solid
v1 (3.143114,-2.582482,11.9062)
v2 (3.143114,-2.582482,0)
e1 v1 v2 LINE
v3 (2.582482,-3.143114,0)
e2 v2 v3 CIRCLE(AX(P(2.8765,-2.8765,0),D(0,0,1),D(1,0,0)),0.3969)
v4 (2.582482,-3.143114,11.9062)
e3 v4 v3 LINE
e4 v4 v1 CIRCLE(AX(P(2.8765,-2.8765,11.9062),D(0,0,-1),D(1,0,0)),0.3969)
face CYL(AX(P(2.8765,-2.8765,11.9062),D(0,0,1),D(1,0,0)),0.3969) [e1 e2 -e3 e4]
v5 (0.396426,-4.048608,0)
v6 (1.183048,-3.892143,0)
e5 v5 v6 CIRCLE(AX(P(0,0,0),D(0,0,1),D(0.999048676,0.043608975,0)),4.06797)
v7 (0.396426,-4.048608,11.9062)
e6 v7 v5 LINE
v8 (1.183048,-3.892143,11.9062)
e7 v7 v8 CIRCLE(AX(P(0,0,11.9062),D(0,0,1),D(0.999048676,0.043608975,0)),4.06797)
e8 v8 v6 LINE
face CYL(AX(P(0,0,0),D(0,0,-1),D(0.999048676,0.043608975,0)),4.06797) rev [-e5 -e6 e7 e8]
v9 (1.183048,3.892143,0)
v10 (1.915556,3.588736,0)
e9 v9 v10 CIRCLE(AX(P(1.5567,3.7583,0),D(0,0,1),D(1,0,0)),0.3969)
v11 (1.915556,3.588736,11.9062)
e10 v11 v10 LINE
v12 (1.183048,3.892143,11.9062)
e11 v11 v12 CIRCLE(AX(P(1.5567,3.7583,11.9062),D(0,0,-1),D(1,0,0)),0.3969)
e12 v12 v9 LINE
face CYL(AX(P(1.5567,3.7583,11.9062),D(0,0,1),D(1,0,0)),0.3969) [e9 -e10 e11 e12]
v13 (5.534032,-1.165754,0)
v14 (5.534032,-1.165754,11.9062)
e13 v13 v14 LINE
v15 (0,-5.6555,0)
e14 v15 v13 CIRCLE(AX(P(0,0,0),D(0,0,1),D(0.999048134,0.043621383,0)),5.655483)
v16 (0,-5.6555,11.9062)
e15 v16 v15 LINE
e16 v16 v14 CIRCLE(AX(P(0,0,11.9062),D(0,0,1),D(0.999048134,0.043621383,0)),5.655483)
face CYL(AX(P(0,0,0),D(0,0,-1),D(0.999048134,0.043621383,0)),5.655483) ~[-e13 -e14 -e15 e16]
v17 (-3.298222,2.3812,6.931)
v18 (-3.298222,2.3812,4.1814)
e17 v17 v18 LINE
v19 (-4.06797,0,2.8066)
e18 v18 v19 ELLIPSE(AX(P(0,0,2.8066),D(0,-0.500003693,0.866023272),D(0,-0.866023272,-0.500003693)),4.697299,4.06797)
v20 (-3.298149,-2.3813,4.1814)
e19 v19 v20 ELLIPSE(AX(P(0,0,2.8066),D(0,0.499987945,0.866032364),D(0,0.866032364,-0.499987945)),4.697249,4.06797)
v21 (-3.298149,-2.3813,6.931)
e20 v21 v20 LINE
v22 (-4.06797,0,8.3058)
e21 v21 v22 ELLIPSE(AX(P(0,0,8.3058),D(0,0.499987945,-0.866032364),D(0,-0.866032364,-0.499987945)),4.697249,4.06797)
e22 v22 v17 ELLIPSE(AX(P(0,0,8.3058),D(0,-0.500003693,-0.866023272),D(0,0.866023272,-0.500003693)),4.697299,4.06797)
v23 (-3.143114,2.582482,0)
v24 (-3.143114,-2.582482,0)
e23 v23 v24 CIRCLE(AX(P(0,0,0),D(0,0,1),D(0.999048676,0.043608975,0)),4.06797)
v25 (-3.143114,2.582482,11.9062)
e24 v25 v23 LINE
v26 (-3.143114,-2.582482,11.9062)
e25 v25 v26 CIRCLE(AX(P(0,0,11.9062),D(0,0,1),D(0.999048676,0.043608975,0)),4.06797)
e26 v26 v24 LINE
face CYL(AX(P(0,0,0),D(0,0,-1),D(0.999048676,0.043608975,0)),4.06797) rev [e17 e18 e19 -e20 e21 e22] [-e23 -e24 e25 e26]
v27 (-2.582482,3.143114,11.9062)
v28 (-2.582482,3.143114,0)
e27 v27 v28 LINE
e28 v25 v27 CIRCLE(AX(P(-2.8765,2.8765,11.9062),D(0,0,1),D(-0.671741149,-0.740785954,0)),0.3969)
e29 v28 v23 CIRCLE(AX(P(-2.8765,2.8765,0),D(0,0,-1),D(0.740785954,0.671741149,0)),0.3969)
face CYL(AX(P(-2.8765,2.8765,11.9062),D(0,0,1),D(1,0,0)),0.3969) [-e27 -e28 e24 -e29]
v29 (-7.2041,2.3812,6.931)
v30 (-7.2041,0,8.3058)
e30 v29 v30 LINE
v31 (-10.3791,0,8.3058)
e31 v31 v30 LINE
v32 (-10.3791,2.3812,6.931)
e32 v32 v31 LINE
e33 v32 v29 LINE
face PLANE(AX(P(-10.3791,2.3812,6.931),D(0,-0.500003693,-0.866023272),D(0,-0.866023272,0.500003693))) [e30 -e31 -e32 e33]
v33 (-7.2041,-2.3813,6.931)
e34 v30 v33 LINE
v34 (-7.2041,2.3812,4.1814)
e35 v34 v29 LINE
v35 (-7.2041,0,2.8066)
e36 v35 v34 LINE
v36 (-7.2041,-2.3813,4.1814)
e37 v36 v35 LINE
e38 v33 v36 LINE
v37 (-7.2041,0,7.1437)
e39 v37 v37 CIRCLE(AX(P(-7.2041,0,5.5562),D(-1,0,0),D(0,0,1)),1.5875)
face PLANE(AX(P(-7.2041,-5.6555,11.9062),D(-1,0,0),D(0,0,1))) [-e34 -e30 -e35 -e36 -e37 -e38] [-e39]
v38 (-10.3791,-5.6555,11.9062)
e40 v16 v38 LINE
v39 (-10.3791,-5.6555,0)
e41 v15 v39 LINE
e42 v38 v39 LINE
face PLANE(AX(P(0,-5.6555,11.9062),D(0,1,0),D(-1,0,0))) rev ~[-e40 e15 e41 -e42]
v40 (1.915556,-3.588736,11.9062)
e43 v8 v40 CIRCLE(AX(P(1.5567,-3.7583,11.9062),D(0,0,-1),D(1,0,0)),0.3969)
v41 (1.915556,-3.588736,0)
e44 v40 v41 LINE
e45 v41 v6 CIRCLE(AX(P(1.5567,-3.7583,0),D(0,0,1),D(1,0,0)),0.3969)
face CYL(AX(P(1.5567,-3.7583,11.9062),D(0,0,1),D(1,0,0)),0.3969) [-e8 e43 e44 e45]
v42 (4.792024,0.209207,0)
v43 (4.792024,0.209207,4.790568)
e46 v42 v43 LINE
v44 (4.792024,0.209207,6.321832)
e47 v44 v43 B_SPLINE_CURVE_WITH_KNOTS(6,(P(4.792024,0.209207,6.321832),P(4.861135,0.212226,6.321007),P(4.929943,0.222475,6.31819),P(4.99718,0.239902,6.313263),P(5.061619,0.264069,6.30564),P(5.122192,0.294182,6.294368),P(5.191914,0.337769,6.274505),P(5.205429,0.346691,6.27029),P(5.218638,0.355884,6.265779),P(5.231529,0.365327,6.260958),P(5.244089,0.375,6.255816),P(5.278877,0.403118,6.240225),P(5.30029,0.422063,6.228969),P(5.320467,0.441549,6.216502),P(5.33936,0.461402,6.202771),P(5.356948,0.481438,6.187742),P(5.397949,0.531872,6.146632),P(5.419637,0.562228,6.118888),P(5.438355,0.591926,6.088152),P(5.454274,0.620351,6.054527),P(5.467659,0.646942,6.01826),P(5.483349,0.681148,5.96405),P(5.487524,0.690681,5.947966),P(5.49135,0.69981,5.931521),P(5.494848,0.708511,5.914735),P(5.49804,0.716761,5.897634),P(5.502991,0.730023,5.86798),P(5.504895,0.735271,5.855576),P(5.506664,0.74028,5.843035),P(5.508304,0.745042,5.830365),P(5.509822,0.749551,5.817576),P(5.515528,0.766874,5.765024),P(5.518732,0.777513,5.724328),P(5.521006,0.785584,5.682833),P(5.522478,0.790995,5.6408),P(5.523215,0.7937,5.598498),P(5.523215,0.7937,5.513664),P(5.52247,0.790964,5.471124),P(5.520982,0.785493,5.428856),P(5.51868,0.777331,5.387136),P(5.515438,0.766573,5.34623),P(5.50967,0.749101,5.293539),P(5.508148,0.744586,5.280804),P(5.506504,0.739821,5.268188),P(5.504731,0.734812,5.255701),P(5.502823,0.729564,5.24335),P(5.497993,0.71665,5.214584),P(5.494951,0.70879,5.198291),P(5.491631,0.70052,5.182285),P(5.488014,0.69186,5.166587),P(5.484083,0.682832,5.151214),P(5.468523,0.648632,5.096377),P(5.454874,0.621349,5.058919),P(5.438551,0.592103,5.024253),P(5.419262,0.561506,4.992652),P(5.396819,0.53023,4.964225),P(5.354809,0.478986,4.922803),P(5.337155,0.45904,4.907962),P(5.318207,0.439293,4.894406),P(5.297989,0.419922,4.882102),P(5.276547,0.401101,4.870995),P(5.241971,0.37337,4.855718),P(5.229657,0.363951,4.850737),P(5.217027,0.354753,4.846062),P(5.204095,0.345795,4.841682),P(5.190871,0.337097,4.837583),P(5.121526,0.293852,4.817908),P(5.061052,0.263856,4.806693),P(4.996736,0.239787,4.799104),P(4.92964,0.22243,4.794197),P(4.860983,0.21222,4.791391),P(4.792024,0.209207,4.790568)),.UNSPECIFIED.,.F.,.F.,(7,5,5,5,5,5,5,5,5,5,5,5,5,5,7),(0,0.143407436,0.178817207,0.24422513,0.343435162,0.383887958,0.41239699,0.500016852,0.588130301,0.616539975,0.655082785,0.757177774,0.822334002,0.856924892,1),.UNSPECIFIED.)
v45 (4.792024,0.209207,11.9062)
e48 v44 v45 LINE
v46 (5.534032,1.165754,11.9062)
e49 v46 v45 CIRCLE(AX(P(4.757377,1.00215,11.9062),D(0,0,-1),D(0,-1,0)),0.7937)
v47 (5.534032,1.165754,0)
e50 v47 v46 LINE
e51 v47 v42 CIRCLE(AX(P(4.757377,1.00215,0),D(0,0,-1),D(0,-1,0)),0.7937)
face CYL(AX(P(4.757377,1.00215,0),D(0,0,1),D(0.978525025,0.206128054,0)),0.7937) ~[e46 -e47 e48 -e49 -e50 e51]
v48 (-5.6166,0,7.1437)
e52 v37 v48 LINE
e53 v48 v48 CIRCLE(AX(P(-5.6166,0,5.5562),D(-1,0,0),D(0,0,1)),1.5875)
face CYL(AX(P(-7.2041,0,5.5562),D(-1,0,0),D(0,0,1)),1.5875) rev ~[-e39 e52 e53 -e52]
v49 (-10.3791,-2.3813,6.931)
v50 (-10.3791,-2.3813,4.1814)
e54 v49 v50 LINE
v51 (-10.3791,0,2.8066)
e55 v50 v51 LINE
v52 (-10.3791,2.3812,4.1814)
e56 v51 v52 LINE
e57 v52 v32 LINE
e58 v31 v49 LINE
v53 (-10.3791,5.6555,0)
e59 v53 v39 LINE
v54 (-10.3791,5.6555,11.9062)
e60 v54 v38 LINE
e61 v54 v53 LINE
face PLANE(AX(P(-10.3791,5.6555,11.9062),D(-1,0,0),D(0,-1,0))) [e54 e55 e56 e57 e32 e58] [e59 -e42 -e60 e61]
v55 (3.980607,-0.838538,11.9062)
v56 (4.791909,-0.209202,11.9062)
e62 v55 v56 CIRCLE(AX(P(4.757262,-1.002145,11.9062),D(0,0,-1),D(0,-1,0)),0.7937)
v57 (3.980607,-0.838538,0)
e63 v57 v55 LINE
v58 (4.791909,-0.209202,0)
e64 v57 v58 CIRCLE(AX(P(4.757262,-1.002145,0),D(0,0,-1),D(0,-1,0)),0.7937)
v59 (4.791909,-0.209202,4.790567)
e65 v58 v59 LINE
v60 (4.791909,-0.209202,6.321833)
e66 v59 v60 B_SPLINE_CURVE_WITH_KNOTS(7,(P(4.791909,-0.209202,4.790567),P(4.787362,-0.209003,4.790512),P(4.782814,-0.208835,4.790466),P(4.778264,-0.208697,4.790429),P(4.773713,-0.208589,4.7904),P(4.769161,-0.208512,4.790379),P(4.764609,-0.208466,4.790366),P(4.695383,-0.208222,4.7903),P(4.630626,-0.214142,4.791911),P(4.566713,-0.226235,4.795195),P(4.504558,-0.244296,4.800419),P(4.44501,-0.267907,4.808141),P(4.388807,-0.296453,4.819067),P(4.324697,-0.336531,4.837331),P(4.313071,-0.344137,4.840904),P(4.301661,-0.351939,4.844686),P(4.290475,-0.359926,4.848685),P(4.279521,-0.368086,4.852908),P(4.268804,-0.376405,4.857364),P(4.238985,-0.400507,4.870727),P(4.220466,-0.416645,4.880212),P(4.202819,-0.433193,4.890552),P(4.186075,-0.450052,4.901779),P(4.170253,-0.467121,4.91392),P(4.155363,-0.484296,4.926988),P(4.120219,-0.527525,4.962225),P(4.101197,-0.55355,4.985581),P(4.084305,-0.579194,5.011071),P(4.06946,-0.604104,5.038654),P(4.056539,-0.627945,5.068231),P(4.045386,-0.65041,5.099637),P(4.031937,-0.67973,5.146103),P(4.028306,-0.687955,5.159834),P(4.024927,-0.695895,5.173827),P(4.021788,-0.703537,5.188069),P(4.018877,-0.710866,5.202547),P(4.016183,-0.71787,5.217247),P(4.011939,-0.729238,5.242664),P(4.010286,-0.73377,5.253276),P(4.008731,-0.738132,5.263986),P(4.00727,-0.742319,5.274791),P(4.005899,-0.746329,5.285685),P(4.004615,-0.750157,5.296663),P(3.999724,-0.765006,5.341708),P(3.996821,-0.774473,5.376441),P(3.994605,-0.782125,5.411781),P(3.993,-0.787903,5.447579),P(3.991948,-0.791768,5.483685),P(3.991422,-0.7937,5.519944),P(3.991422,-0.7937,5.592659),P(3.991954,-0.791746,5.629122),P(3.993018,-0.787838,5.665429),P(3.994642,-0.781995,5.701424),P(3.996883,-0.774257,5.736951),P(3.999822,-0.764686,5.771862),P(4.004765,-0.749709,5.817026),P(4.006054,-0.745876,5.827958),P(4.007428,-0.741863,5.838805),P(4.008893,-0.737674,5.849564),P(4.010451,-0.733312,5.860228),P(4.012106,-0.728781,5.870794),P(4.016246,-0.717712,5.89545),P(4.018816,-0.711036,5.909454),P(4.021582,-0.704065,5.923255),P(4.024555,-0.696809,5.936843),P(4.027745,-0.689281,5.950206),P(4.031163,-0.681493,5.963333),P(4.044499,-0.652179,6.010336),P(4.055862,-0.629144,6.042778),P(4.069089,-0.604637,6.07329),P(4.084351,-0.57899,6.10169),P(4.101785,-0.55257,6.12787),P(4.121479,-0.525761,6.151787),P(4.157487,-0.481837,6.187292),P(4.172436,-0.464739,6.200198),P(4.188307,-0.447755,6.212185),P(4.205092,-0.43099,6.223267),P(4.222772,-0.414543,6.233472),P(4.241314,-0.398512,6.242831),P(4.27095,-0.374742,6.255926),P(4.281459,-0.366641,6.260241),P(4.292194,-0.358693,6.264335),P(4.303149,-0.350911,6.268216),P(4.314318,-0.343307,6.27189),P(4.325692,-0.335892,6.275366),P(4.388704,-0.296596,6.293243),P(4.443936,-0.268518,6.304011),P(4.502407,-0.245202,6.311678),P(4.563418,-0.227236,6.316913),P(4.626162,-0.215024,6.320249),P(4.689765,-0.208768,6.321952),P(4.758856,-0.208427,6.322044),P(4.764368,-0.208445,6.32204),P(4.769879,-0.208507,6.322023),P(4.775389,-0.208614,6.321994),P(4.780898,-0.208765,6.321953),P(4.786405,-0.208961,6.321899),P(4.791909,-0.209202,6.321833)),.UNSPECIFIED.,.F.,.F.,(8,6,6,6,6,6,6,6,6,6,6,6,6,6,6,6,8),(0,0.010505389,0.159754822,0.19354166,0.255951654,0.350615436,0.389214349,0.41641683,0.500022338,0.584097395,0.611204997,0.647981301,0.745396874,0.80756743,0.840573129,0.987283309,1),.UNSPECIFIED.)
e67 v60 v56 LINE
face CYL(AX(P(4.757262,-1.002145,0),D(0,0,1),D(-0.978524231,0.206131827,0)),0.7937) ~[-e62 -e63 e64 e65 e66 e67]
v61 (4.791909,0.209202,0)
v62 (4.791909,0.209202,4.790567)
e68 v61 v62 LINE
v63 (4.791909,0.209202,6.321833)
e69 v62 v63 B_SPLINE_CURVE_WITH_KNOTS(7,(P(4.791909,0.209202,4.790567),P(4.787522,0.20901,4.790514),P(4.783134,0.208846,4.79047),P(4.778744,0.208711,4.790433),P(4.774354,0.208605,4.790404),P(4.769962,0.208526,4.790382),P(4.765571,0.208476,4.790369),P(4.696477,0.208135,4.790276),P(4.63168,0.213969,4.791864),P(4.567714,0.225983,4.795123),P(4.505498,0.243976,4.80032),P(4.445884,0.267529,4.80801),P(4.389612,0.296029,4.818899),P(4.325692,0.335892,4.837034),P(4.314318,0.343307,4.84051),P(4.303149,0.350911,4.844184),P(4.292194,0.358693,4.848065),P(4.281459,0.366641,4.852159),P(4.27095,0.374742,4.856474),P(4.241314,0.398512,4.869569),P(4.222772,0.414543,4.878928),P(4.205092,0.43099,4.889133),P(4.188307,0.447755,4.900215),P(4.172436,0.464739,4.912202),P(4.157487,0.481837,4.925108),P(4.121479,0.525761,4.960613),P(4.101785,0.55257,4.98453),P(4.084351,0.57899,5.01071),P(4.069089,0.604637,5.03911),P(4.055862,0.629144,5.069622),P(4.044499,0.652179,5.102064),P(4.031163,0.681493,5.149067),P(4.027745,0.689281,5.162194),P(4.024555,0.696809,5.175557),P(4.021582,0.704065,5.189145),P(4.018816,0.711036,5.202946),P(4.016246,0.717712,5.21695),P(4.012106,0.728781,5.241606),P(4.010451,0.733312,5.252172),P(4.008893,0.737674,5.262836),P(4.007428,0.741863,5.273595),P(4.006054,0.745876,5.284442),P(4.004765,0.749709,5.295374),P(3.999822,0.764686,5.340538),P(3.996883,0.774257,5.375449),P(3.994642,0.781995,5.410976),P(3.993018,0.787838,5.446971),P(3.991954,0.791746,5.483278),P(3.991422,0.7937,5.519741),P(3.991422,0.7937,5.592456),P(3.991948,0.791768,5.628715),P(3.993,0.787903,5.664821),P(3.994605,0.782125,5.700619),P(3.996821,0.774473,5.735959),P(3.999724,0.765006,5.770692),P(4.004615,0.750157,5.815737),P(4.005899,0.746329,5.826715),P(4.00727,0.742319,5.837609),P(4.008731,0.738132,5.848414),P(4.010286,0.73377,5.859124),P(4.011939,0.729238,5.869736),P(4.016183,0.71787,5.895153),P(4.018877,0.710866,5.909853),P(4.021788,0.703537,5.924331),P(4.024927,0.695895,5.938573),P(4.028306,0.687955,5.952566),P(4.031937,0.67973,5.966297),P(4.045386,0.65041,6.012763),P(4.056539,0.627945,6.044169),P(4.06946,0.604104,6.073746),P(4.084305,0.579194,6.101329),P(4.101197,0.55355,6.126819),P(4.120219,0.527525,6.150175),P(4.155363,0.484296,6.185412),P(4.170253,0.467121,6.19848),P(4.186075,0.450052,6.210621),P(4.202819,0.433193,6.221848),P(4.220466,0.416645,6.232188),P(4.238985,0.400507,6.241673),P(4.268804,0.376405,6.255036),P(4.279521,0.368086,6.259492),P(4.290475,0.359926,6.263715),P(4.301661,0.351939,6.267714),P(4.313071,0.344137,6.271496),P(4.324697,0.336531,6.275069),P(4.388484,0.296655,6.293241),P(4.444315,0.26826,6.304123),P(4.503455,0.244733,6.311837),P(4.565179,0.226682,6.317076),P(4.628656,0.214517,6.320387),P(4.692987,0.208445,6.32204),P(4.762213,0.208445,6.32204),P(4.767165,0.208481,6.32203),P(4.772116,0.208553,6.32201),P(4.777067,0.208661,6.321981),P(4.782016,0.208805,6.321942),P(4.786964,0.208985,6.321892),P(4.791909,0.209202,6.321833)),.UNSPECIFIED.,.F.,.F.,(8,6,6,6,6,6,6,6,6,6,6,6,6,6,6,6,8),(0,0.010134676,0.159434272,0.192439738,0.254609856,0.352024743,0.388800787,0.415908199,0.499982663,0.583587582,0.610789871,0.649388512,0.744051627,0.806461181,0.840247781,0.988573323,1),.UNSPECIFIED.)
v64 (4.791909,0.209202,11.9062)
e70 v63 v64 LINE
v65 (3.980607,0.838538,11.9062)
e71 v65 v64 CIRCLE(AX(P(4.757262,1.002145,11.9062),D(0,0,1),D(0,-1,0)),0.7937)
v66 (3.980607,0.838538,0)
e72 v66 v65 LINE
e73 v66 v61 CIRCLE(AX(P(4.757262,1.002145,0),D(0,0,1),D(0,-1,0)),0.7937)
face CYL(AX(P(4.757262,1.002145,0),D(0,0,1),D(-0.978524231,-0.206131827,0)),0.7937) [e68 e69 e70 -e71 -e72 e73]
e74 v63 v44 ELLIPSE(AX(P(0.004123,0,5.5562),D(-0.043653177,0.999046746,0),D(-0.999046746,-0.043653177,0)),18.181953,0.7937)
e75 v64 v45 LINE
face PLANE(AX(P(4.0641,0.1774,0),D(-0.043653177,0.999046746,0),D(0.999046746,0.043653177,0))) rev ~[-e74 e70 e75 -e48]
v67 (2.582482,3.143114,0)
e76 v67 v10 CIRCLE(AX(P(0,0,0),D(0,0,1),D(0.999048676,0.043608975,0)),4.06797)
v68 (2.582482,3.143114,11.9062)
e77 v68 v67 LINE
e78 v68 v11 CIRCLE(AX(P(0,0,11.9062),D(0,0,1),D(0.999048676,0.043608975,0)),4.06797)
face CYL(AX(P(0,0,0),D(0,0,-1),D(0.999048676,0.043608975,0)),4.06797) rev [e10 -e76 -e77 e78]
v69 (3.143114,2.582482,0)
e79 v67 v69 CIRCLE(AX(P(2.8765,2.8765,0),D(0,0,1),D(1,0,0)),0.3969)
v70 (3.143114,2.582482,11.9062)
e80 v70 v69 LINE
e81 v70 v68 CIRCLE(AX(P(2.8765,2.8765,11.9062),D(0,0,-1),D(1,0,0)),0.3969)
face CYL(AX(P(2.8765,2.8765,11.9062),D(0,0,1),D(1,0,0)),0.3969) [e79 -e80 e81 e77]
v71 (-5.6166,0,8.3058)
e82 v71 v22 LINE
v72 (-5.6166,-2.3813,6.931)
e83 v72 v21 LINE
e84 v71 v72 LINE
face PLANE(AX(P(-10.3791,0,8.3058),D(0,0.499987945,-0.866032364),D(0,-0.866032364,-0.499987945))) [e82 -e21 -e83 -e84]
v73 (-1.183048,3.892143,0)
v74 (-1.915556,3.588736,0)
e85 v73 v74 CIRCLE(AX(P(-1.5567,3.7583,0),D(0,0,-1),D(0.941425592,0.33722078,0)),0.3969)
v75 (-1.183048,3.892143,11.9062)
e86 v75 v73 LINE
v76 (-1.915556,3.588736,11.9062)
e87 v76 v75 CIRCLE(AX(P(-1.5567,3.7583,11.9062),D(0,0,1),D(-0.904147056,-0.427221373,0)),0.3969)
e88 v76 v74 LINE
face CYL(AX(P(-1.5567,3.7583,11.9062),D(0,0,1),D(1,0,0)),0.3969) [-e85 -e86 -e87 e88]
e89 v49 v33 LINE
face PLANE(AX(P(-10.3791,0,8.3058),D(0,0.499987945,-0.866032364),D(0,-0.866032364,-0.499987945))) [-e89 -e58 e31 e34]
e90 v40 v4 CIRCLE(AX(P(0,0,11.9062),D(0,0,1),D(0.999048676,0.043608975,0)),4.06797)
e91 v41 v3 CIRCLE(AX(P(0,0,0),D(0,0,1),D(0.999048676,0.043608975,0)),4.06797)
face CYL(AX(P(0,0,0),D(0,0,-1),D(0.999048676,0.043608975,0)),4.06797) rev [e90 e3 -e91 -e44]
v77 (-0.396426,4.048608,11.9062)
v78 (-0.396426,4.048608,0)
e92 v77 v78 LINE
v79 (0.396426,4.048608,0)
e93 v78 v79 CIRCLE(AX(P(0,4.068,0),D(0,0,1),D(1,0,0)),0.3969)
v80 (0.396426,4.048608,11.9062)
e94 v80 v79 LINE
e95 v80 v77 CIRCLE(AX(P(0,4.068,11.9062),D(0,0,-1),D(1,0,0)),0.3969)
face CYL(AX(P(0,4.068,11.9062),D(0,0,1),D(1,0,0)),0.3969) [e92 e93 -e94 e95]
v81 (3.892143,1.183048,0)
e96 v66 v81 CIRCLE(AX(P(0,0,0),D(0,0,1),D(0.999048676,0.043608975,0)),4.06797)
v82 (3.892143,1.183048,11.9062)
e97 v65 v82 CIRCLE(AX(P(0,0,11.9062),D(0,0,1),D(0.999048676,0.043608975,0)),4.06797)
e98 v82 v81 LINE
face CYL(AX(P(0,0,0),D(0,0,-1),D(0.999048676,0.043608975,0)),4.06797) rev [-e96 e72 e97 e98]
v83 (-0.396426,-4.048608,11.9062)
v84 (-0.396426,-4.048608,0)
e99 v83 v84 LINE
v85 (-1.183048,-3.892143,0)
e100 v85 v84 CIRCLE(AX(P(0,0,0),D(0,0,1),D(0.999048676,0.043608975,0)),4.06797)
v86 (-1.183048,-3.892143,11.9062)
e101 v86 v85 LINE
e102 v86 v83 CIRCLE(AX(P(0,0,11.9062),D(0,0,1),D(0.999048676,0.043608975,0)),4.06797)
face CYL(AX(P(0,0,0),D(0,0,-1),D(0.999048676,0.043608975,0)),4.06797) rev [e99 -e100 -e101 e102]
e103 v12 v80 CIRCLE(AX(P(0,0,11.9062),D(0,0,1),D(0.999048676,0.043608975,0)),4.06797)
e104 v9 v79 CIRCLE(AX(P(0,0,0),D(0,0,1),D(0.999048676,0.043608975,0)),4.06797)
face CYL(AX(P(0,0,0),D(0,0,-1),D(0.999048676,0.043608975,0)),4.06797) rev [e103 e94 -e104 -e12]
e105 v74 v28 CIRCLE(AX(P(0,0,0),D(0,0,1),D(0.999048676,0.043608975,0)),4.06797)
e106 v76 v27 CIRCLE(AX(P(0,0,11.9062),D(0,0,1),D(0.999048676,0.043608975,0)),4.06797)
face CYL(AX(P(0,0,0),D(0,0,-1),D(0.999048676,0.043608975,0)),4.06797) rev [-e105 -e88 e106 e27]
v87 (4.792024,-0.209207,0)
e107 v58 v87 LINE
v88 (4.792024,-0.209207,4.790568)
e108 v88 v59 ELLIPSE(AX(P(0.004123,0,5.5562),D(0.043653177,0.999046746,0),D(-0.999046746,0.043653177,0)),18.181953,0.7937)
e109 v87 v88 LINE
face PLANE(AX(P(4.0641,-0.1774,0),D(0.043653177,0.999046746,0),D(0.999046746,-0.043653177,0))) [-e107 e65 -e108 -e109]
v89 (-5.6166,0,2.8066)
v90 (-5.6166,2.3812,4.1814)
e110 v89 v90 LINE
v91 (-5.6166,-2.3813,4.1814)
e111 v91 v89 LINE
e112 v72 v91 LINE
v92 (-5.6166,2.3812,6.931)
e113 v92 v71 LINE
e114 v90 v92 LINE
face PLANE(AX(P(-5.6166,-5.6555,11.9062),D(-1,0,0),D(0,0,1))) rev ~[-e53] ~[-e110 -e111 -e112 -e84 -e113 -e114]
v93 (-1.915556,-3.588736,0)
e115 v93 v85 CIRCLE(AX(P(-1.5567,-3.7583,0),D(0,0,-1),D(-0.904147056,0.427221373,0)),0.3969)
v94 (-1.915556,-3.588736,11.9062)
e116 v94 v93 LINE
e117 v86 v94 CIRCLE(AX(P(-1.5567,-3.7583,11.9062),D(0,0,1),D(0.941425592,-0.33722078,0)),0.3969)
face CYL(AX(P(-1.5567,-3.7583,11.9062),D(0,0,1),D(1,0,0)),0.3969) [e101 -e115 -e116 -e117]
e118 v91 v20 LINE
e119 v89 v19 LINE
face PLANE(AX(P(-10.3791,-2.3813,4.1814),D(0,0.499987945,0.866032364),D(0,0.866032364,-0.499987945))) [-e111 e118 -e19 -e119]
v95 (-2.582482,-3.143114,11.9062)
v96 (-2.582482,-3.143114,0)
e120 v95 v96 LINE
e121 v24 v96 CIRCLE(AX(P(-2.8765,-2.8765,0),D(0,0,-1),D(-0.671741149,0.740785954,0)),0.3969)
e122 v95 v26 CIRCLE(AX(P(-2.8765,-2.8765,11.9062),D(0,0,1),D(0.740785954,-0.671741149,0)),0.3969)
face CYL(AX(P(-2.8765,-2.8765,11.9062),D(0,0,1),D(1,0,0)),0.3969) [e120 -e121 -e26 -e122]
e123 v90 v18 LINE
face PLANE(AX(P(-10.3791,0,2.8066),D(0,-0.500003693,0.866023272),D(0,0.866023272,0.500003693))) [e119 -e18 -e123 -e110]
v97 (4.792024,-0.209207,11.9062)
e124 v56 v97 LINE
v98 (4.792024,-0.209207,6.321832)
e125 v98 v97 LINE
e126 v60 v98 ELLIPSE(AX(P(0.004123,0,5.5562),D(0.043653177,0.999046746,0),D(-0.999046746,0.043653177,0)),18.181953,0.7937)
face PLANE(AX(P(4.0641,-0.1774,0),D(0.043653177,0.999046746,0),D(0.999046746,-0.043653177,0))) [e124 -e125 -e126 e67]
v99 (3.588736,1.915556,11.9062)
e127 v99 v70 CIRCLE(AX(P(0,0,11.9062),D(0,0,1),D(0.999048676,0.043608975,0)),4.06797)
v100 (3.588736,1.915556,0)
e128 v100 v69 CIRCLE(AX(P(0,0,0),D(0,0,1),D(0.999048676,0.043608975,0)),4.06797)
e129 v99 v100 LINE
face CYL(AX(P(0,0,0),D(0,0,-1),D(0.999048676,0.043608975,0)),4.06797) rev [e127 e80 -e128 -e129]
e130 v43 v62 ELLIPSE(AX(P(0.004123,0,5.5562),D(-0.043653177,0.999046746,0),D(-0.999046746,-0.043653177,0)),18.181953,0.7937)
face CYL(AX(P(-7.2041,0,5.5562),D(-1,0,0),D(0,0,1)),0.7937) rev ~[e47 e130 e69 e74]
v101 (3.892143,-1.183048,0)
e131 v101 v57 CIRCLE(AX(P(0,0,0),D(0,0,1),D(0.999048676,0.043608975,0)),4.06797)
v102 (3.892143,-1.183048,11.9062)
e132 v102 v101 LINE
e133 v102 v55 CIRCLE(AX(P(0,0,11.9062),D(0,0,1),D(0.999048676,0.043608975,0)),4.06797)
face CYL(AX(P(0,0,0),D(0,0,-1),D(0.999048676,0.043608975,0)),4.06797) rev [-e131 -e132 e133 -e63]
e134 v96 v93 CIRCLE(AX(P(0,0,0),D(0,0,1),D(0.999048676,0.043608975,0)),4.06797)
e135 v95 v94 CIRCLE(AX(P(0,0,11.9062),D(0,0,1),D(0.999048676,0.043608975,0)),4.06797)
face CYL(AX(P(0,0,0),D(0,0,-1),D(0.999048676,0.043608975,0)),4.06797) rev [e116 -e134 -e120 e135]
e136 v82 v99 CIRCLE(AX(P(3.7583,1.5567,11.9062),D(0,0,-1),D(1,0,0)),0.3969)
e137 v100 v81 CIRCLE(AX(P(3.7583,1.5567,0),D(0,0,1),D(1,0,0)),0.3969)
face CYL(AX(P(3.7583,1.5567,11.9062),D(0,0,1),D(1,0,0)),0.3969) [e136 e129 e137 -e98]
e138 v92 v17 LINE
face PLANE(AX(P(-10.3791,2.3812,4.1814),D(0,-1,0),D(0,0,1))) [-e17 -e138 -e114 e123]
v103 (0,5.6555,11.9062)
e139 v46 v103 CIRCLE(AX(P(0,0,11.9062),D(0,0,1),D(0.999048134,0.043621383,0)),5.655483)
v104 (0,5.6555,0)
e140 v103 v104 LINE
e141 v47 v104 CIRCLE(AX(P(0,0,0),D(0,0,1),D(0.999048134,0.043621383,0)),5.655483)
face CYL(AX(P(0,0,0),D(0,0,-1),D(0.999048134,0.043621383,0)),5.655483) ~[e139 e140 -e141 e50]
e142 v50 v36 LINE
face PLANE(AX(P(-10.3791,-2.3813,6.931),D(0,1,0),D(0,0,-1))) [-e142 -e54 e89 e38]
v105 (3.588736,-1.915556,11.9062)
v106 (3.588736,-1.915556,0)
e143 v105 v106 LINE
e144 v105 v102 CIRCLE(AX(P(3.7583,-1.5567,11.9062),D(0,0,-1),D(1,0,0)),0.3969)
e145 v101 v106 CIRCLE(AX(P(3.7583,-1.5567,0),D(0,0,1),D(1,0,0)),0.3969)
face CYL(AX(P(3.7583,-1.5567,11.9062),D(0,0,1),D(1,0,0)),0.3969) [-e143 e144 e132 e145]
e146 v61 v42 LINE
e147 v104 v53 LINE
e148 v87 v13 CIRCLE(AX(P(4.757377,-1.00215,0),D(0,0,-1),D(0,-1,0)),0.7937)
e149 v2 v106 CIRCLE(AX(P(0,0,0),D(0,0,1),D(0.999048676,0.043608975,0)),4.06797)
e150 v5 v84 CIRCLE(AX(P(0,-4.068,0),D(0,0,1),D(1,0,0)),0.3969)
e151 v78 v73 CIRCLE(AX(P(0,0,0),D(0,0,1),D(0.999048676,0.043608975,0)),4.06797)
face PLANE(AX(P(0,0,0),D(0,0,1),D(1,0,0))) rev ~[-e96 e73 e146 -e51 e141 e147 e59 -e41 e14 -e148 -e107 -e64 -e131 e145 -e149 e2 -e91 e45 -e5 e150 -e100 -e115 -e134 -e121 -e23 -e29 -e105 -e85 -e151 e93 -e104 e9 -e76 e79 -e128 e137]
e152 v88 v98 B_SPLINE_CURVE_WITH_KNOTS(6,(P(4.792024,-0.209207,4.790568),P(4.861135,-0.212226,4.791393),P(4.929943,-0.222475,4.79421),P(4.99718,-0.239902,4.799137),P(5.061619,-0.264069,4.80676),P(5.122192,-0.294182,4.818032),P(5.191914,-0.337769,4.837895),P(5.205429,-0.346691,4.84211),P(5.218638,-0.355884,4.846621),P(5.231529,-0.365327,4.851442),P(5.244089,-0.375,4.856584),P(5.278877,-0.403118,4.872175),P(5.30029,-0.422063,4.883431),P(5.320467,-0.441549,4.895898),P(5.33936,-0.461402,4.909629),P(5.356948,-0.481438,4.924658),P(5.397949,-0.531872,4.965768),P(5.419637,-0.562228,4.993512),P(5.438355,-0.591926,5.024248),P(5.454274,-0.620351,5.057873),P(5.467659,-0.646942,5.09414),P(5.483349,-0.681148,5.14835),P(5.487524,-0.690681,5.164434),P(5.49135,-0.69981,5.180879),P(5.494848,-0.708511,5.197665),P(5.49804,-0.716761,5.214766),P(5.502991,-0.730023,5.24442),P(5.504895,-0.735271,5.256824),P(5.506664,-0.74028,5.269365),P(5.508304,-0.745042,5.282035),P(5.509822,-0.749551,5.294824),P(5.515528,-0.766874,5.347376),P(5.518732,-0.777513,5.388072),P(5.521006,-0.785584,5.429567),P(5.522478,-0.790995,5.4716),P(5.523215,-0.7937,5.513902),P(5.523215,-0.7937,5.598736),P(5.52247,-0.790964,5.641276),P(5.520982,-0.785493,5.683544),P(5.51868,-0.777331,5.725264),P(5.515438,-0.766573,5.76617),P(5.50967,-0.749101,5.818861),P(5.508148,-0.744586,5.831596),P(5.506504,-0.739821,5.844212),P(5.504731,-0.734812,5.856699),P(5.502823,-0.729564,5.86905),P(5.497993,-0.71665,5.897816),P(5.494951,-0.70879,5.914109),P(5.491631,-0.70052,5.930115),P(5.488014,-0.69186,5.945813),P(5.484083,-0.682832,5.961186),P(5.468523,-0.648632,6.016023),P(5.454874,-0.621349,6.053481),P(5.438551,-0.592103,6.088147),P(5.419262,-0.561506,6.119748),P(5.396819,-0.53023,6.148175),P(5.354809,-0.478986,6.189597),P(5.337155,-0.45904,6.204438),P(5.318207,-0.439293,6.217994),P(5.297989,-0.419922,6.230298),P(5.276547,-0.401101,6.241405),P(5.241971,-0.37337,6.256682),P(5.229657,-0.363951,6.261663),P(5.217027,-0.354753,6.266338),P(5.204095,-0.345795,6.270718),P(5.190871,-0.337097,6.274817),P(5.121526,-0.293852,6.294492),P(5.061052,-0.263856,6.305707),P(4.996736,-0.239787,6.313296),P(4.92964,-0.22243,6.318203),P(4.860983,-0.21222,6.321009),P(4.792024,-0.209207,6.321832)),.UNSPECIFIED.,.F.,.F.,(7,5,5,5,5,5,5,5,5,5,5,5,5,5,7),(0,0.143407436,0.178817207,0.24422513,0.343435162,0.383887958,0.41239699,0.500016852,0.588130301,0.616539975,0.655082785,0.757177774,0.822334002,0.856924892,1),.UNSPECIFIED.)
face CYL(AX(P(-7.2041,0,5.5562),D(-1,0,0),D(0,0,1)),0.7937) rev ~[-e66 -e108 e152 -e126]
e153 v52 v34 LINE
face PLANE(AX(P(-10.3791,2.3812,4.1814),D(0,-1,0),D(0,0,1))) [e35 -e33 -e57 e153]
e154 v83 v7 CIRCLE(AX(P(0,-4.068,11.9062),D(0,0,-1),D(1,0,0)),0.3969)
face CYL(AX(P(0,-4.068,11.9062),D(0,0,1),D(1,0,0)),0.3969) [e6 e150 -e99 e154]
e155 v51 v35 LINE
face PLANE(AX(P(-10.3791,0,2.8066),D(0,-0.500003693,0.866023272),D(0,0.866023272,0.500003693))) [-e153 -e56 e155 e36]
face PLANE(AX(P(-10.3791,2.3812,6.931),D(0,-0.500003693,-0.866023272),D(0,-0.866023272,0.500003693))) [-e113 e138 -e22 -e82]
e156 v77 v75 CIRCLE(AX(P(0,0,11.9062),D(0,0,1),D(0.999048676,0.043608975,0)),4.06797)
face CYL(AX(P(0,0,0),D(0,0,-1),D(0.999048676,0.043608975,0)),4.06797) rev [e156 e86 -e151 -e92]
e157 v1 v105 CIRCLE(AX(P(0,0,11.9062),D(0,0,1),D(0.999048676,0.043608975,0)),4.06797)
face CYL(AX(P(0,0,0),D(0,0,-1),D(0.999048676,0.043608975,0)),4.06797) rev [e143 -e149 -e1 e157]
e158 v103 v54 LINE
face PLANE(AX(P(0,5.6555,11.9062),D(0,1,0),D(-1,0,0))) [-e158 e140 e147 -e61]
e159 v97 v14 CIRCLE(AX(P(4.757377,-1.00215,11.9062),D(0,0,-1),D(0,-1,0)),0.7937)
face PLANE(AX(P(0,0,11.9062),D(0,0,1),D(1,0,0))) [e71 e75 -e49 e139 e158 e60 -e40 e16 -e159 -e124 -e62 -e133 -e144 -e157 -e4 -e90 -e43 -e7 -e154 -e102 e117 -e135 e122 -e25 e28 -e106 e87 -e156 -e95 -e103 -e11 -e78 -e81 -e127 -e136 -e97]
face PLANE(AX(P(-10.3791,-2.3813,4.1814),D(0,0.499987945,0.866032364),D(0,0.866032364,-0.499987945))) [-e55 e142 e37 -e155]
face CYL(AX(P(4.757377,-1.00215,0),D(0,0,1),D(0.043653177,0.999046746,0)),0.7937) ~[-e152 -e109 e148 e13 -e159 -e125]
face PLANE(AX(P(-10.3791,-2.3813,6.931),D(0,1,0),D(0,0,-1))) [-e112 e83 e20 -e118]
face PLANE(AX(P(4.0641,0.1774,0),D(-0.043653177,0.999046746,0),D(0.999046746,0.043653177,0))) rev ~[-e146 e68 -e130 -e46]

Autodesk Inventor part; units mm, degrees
ref_plane "YZ Plane" through (0, 0, 0) normal (1, 0, 0) x (0, 1, 0)
ref_plane "XZ Plane" through (0, 0, 0) normal (0, 1, 0) x (-1, 0, 0)
ref_plane "XY Plane" through (0, 0, 0) normal (0, 0, 1) x (1, 0, 0)
sketch "Sketch1" plane through (0, 0, 0) normal (0, 0, 1) x (1, 0, 0)
  arc A0 (4.0641, 0.1774) -> (4.0641, -0.1774) centre (0, 0) ccw
  arc A1 (5.6501, 0.2467) -> (5.6501, -0.2467) centre (0, 0) ccw
  line L0 (4.0641, -0.1774) -> (5.6501, -0.2467)
  line L1 (4.0641, 0.1774) -> (5.6501, 0.2467)
  dimension "d0" = 8.1359
  dimension "d13" = 5
  dimension "d26" = 1.5875
extrude "Extrusion3" add sketch "Sketch1" along normal blind 11.9062
fillet "Fillet4" radius 0.7937 4 edges at (5.6501, 0.2467, 5.9531) (4.0641, 0.1774, 5.9531) (4.0641, -0.1774, 5.9531) (5.6501, -0.2467, 5.9531)
sketch "Sketch4" plane through (0, 0, 11.9062) normal (0, 0, 1) x (1, 0, 0)
  arc A0 (5.534, 1.1658) -> (5.534, -1.1658) centre (0, 0) ccw projected
  arc A1 (0, 5.6555) -> (0, -5.6555) centre (0, 0) ccw
  line L0 (0, 5.6555) -> (-10.3791, 5.6555)
  line L1 (-10.3791, 5.6555) -> (-10.3791, -5.6555)
  line L2 (0, -5.6555) -> (-10.3791, -5.6555)
  dimension "d192" = 10.3791
extrude "Extrusion5" add sketch "Sketch4" against normal up to surface (11.9062 mm away)
sketch "Sketch8" plane through (0, 0, 11.9062) normal (0, 0, 1) x (1, 0, 0)
  arc A0 (3.9806, 0.8386) -> (3.9806, -0.8386) centre (0, 0) ccw projected
  circle A1 centre (0, 4.068) radius 0.3969
  circle A2 centre (0, -4.068) radius 0.3969
  circle A3 centre (-1.5567, 3.7583) radius 0.3969
  circle A4 centre (-1.5567, -3.7583) radius 0.3969
  circle A5 centre (-2.8765, 2.8765) radius 0.3969
  circle A6 centre (-2.8765, -2.8765) radius 0.3969
  circle A7 centre (1.5567, 3.7583) radius 0.3969
  circle A8 centre (1.5567, -3.7583) radius 0.3969
  circle A9 centre (2.8765, 2.8765) radius 0.3969
  circle A10 centre (2.8765, -2.8765) radius 0.3969
  arc A11 (3.9806, 0.8386) -> (3.9806, -0.8386) centre (0, 0) ccw projected
  circle A12 centre (3.7583, 1.5567) radius 0.3969
  circle A13 centre (3.7583, -1.5567) radius 0.3969
  point P0 (4.7625, 0)
  dimension "d71" = 4.7625
  dimension "d72" = 0.7937
  dimension "d74" = 0.7937
  dimension "d75" = 0.7937
  dimension "d76" = 22.5
  dimension "d77" = 0.7937
  dimension "d78" = 22.5
  dimension "d110" = 0.7937
  dimension "d111" = 0.7937
  dimension "d112" = 22.5
  dimension "d113" = 22.5
  dimension "d158" = 0.7937
  dimension "d159" = 0.7937
  dimension "d160" = 22.5
  dimension "d161" = 22.5
  dimension "d165" = 0.7937
  dimension "d166" = 0.7937
  dimension "d167" = 22.5
  dimension "d168" = 22.5
  dimension "d171" = 22.5
  dimension "d172" = 0.7937
  dimension "d173" = 0.7937
  dimension "d174" = 22.5
  dimension "d191" = 45
sketch "Sketch22" plane through (-10.3791, -5.6555, 11.9062) normal (-1, 0, 0) x (0, 0, 1)
  line L0 (-4.9752, 8.0367) -> (-3.6004, 5.6555)
  line L1 (-3.6004, 5.6555) -> (-4.9752, 3.2742)
  line L2 (-4.9752, 3.2742) -> (-7.7248, 3.2742)
  line L3 (-7.7248, 3.2742) -> (-9.0996, 5.6555)
  line L4 (-9.0996, 5.6555) -> (-7.7248, 8.0367)
  line L5 (-7.7248, 8.0367) -> (-4.9752, 8.0367)
  line L6 (0, 11.3109) -> (-11.9062, 11.3109) projected
  line L7 (0, 11.3109) -> (0, 0) projected
  point P0 (-11.9062, 5.6555)
  point P1 (-6.35, 5.6555)
  dimension "d145" = 4.7625
  dimension "d146" = 5.6555
  dimension "d147" = 6.35
extrude "Extrusion28" cut sketch "Sketch22" against normal up to surface
extrude "Extrusion36" add sketch "Sketch8" against normal up to surface (11.9062 mm away)
ref_plane "Work Plane3" through (-7.2041, -5.6555, 11.9062) normal (-1, 0, 0) x (0, 0, 1)
sketch "Sketch28" plane through (-7.2041, -5.6555, 11.9062) normal (-1, 0, 0) x (0, 0, 1)
  line L0 (-4.9752, 8.0367) -> (-3.6004, 5.6555)
  line L1 (-3.6004, 5.6555) -> (-4.9752, 3.2742)
  line L2 (-4.9752, 3.2742) -> (-7.7248, 3.2742)
  line L3 (-7.7248, 3.2742) -> (-9.0996, 5.6555)
  line L4 (-9.0996, 5.6555) -> (-7.7248, 8.0367)
  line L5 (-7.7248, 8.0367) -> (-4.9752, 8.0367)
  line L6 (-7.7248, 8.0367) -> (-4.9752, 8.0367) projected
  line L7 (-9.0996, 5.6555) -> (-7.7248, 8.0367) projected
  line L8 (-3.6004, 5.6555) -> (-4.9752, 3.2742) projected
  circle A0 centre (-6.35, 5.6555) radius 1.5875
  point P0 (-11.9062, 5.6555)
  dimension "d194" = 3.175
extrude "Extrusion37" add sketch "Sketch28" against normal blind 1.5875
sketch "Sketch29" plane through (-7.2041, -5.6555, 11.9062) normal (-1, 0, 0) x (0, 0, 1)
  circle A0 centre (-6.35, 5.6555) radius 1.5875 projected
  circle A1 centre (-6.35, 5.6555) radius 0.7937
  point P0 (-11.9062, 5.6555)
  dimension "d197" = 1.5875
extrude "Extrusion38" cut sketch "Sketch29" against normal through all contours A1
equation "\"d72\" = d75"
equation "\"d74\" = d75"
equation "\"d77\" = d75"
equation "\"d110\" = d75"
equation "\"d111\" = d75"
equation "\"d158\" = d75"
equation "\"d159\" = d75"
equation "\"d165\" = d75"
equation "\"d166\" = d75"
properties part number "claww"
